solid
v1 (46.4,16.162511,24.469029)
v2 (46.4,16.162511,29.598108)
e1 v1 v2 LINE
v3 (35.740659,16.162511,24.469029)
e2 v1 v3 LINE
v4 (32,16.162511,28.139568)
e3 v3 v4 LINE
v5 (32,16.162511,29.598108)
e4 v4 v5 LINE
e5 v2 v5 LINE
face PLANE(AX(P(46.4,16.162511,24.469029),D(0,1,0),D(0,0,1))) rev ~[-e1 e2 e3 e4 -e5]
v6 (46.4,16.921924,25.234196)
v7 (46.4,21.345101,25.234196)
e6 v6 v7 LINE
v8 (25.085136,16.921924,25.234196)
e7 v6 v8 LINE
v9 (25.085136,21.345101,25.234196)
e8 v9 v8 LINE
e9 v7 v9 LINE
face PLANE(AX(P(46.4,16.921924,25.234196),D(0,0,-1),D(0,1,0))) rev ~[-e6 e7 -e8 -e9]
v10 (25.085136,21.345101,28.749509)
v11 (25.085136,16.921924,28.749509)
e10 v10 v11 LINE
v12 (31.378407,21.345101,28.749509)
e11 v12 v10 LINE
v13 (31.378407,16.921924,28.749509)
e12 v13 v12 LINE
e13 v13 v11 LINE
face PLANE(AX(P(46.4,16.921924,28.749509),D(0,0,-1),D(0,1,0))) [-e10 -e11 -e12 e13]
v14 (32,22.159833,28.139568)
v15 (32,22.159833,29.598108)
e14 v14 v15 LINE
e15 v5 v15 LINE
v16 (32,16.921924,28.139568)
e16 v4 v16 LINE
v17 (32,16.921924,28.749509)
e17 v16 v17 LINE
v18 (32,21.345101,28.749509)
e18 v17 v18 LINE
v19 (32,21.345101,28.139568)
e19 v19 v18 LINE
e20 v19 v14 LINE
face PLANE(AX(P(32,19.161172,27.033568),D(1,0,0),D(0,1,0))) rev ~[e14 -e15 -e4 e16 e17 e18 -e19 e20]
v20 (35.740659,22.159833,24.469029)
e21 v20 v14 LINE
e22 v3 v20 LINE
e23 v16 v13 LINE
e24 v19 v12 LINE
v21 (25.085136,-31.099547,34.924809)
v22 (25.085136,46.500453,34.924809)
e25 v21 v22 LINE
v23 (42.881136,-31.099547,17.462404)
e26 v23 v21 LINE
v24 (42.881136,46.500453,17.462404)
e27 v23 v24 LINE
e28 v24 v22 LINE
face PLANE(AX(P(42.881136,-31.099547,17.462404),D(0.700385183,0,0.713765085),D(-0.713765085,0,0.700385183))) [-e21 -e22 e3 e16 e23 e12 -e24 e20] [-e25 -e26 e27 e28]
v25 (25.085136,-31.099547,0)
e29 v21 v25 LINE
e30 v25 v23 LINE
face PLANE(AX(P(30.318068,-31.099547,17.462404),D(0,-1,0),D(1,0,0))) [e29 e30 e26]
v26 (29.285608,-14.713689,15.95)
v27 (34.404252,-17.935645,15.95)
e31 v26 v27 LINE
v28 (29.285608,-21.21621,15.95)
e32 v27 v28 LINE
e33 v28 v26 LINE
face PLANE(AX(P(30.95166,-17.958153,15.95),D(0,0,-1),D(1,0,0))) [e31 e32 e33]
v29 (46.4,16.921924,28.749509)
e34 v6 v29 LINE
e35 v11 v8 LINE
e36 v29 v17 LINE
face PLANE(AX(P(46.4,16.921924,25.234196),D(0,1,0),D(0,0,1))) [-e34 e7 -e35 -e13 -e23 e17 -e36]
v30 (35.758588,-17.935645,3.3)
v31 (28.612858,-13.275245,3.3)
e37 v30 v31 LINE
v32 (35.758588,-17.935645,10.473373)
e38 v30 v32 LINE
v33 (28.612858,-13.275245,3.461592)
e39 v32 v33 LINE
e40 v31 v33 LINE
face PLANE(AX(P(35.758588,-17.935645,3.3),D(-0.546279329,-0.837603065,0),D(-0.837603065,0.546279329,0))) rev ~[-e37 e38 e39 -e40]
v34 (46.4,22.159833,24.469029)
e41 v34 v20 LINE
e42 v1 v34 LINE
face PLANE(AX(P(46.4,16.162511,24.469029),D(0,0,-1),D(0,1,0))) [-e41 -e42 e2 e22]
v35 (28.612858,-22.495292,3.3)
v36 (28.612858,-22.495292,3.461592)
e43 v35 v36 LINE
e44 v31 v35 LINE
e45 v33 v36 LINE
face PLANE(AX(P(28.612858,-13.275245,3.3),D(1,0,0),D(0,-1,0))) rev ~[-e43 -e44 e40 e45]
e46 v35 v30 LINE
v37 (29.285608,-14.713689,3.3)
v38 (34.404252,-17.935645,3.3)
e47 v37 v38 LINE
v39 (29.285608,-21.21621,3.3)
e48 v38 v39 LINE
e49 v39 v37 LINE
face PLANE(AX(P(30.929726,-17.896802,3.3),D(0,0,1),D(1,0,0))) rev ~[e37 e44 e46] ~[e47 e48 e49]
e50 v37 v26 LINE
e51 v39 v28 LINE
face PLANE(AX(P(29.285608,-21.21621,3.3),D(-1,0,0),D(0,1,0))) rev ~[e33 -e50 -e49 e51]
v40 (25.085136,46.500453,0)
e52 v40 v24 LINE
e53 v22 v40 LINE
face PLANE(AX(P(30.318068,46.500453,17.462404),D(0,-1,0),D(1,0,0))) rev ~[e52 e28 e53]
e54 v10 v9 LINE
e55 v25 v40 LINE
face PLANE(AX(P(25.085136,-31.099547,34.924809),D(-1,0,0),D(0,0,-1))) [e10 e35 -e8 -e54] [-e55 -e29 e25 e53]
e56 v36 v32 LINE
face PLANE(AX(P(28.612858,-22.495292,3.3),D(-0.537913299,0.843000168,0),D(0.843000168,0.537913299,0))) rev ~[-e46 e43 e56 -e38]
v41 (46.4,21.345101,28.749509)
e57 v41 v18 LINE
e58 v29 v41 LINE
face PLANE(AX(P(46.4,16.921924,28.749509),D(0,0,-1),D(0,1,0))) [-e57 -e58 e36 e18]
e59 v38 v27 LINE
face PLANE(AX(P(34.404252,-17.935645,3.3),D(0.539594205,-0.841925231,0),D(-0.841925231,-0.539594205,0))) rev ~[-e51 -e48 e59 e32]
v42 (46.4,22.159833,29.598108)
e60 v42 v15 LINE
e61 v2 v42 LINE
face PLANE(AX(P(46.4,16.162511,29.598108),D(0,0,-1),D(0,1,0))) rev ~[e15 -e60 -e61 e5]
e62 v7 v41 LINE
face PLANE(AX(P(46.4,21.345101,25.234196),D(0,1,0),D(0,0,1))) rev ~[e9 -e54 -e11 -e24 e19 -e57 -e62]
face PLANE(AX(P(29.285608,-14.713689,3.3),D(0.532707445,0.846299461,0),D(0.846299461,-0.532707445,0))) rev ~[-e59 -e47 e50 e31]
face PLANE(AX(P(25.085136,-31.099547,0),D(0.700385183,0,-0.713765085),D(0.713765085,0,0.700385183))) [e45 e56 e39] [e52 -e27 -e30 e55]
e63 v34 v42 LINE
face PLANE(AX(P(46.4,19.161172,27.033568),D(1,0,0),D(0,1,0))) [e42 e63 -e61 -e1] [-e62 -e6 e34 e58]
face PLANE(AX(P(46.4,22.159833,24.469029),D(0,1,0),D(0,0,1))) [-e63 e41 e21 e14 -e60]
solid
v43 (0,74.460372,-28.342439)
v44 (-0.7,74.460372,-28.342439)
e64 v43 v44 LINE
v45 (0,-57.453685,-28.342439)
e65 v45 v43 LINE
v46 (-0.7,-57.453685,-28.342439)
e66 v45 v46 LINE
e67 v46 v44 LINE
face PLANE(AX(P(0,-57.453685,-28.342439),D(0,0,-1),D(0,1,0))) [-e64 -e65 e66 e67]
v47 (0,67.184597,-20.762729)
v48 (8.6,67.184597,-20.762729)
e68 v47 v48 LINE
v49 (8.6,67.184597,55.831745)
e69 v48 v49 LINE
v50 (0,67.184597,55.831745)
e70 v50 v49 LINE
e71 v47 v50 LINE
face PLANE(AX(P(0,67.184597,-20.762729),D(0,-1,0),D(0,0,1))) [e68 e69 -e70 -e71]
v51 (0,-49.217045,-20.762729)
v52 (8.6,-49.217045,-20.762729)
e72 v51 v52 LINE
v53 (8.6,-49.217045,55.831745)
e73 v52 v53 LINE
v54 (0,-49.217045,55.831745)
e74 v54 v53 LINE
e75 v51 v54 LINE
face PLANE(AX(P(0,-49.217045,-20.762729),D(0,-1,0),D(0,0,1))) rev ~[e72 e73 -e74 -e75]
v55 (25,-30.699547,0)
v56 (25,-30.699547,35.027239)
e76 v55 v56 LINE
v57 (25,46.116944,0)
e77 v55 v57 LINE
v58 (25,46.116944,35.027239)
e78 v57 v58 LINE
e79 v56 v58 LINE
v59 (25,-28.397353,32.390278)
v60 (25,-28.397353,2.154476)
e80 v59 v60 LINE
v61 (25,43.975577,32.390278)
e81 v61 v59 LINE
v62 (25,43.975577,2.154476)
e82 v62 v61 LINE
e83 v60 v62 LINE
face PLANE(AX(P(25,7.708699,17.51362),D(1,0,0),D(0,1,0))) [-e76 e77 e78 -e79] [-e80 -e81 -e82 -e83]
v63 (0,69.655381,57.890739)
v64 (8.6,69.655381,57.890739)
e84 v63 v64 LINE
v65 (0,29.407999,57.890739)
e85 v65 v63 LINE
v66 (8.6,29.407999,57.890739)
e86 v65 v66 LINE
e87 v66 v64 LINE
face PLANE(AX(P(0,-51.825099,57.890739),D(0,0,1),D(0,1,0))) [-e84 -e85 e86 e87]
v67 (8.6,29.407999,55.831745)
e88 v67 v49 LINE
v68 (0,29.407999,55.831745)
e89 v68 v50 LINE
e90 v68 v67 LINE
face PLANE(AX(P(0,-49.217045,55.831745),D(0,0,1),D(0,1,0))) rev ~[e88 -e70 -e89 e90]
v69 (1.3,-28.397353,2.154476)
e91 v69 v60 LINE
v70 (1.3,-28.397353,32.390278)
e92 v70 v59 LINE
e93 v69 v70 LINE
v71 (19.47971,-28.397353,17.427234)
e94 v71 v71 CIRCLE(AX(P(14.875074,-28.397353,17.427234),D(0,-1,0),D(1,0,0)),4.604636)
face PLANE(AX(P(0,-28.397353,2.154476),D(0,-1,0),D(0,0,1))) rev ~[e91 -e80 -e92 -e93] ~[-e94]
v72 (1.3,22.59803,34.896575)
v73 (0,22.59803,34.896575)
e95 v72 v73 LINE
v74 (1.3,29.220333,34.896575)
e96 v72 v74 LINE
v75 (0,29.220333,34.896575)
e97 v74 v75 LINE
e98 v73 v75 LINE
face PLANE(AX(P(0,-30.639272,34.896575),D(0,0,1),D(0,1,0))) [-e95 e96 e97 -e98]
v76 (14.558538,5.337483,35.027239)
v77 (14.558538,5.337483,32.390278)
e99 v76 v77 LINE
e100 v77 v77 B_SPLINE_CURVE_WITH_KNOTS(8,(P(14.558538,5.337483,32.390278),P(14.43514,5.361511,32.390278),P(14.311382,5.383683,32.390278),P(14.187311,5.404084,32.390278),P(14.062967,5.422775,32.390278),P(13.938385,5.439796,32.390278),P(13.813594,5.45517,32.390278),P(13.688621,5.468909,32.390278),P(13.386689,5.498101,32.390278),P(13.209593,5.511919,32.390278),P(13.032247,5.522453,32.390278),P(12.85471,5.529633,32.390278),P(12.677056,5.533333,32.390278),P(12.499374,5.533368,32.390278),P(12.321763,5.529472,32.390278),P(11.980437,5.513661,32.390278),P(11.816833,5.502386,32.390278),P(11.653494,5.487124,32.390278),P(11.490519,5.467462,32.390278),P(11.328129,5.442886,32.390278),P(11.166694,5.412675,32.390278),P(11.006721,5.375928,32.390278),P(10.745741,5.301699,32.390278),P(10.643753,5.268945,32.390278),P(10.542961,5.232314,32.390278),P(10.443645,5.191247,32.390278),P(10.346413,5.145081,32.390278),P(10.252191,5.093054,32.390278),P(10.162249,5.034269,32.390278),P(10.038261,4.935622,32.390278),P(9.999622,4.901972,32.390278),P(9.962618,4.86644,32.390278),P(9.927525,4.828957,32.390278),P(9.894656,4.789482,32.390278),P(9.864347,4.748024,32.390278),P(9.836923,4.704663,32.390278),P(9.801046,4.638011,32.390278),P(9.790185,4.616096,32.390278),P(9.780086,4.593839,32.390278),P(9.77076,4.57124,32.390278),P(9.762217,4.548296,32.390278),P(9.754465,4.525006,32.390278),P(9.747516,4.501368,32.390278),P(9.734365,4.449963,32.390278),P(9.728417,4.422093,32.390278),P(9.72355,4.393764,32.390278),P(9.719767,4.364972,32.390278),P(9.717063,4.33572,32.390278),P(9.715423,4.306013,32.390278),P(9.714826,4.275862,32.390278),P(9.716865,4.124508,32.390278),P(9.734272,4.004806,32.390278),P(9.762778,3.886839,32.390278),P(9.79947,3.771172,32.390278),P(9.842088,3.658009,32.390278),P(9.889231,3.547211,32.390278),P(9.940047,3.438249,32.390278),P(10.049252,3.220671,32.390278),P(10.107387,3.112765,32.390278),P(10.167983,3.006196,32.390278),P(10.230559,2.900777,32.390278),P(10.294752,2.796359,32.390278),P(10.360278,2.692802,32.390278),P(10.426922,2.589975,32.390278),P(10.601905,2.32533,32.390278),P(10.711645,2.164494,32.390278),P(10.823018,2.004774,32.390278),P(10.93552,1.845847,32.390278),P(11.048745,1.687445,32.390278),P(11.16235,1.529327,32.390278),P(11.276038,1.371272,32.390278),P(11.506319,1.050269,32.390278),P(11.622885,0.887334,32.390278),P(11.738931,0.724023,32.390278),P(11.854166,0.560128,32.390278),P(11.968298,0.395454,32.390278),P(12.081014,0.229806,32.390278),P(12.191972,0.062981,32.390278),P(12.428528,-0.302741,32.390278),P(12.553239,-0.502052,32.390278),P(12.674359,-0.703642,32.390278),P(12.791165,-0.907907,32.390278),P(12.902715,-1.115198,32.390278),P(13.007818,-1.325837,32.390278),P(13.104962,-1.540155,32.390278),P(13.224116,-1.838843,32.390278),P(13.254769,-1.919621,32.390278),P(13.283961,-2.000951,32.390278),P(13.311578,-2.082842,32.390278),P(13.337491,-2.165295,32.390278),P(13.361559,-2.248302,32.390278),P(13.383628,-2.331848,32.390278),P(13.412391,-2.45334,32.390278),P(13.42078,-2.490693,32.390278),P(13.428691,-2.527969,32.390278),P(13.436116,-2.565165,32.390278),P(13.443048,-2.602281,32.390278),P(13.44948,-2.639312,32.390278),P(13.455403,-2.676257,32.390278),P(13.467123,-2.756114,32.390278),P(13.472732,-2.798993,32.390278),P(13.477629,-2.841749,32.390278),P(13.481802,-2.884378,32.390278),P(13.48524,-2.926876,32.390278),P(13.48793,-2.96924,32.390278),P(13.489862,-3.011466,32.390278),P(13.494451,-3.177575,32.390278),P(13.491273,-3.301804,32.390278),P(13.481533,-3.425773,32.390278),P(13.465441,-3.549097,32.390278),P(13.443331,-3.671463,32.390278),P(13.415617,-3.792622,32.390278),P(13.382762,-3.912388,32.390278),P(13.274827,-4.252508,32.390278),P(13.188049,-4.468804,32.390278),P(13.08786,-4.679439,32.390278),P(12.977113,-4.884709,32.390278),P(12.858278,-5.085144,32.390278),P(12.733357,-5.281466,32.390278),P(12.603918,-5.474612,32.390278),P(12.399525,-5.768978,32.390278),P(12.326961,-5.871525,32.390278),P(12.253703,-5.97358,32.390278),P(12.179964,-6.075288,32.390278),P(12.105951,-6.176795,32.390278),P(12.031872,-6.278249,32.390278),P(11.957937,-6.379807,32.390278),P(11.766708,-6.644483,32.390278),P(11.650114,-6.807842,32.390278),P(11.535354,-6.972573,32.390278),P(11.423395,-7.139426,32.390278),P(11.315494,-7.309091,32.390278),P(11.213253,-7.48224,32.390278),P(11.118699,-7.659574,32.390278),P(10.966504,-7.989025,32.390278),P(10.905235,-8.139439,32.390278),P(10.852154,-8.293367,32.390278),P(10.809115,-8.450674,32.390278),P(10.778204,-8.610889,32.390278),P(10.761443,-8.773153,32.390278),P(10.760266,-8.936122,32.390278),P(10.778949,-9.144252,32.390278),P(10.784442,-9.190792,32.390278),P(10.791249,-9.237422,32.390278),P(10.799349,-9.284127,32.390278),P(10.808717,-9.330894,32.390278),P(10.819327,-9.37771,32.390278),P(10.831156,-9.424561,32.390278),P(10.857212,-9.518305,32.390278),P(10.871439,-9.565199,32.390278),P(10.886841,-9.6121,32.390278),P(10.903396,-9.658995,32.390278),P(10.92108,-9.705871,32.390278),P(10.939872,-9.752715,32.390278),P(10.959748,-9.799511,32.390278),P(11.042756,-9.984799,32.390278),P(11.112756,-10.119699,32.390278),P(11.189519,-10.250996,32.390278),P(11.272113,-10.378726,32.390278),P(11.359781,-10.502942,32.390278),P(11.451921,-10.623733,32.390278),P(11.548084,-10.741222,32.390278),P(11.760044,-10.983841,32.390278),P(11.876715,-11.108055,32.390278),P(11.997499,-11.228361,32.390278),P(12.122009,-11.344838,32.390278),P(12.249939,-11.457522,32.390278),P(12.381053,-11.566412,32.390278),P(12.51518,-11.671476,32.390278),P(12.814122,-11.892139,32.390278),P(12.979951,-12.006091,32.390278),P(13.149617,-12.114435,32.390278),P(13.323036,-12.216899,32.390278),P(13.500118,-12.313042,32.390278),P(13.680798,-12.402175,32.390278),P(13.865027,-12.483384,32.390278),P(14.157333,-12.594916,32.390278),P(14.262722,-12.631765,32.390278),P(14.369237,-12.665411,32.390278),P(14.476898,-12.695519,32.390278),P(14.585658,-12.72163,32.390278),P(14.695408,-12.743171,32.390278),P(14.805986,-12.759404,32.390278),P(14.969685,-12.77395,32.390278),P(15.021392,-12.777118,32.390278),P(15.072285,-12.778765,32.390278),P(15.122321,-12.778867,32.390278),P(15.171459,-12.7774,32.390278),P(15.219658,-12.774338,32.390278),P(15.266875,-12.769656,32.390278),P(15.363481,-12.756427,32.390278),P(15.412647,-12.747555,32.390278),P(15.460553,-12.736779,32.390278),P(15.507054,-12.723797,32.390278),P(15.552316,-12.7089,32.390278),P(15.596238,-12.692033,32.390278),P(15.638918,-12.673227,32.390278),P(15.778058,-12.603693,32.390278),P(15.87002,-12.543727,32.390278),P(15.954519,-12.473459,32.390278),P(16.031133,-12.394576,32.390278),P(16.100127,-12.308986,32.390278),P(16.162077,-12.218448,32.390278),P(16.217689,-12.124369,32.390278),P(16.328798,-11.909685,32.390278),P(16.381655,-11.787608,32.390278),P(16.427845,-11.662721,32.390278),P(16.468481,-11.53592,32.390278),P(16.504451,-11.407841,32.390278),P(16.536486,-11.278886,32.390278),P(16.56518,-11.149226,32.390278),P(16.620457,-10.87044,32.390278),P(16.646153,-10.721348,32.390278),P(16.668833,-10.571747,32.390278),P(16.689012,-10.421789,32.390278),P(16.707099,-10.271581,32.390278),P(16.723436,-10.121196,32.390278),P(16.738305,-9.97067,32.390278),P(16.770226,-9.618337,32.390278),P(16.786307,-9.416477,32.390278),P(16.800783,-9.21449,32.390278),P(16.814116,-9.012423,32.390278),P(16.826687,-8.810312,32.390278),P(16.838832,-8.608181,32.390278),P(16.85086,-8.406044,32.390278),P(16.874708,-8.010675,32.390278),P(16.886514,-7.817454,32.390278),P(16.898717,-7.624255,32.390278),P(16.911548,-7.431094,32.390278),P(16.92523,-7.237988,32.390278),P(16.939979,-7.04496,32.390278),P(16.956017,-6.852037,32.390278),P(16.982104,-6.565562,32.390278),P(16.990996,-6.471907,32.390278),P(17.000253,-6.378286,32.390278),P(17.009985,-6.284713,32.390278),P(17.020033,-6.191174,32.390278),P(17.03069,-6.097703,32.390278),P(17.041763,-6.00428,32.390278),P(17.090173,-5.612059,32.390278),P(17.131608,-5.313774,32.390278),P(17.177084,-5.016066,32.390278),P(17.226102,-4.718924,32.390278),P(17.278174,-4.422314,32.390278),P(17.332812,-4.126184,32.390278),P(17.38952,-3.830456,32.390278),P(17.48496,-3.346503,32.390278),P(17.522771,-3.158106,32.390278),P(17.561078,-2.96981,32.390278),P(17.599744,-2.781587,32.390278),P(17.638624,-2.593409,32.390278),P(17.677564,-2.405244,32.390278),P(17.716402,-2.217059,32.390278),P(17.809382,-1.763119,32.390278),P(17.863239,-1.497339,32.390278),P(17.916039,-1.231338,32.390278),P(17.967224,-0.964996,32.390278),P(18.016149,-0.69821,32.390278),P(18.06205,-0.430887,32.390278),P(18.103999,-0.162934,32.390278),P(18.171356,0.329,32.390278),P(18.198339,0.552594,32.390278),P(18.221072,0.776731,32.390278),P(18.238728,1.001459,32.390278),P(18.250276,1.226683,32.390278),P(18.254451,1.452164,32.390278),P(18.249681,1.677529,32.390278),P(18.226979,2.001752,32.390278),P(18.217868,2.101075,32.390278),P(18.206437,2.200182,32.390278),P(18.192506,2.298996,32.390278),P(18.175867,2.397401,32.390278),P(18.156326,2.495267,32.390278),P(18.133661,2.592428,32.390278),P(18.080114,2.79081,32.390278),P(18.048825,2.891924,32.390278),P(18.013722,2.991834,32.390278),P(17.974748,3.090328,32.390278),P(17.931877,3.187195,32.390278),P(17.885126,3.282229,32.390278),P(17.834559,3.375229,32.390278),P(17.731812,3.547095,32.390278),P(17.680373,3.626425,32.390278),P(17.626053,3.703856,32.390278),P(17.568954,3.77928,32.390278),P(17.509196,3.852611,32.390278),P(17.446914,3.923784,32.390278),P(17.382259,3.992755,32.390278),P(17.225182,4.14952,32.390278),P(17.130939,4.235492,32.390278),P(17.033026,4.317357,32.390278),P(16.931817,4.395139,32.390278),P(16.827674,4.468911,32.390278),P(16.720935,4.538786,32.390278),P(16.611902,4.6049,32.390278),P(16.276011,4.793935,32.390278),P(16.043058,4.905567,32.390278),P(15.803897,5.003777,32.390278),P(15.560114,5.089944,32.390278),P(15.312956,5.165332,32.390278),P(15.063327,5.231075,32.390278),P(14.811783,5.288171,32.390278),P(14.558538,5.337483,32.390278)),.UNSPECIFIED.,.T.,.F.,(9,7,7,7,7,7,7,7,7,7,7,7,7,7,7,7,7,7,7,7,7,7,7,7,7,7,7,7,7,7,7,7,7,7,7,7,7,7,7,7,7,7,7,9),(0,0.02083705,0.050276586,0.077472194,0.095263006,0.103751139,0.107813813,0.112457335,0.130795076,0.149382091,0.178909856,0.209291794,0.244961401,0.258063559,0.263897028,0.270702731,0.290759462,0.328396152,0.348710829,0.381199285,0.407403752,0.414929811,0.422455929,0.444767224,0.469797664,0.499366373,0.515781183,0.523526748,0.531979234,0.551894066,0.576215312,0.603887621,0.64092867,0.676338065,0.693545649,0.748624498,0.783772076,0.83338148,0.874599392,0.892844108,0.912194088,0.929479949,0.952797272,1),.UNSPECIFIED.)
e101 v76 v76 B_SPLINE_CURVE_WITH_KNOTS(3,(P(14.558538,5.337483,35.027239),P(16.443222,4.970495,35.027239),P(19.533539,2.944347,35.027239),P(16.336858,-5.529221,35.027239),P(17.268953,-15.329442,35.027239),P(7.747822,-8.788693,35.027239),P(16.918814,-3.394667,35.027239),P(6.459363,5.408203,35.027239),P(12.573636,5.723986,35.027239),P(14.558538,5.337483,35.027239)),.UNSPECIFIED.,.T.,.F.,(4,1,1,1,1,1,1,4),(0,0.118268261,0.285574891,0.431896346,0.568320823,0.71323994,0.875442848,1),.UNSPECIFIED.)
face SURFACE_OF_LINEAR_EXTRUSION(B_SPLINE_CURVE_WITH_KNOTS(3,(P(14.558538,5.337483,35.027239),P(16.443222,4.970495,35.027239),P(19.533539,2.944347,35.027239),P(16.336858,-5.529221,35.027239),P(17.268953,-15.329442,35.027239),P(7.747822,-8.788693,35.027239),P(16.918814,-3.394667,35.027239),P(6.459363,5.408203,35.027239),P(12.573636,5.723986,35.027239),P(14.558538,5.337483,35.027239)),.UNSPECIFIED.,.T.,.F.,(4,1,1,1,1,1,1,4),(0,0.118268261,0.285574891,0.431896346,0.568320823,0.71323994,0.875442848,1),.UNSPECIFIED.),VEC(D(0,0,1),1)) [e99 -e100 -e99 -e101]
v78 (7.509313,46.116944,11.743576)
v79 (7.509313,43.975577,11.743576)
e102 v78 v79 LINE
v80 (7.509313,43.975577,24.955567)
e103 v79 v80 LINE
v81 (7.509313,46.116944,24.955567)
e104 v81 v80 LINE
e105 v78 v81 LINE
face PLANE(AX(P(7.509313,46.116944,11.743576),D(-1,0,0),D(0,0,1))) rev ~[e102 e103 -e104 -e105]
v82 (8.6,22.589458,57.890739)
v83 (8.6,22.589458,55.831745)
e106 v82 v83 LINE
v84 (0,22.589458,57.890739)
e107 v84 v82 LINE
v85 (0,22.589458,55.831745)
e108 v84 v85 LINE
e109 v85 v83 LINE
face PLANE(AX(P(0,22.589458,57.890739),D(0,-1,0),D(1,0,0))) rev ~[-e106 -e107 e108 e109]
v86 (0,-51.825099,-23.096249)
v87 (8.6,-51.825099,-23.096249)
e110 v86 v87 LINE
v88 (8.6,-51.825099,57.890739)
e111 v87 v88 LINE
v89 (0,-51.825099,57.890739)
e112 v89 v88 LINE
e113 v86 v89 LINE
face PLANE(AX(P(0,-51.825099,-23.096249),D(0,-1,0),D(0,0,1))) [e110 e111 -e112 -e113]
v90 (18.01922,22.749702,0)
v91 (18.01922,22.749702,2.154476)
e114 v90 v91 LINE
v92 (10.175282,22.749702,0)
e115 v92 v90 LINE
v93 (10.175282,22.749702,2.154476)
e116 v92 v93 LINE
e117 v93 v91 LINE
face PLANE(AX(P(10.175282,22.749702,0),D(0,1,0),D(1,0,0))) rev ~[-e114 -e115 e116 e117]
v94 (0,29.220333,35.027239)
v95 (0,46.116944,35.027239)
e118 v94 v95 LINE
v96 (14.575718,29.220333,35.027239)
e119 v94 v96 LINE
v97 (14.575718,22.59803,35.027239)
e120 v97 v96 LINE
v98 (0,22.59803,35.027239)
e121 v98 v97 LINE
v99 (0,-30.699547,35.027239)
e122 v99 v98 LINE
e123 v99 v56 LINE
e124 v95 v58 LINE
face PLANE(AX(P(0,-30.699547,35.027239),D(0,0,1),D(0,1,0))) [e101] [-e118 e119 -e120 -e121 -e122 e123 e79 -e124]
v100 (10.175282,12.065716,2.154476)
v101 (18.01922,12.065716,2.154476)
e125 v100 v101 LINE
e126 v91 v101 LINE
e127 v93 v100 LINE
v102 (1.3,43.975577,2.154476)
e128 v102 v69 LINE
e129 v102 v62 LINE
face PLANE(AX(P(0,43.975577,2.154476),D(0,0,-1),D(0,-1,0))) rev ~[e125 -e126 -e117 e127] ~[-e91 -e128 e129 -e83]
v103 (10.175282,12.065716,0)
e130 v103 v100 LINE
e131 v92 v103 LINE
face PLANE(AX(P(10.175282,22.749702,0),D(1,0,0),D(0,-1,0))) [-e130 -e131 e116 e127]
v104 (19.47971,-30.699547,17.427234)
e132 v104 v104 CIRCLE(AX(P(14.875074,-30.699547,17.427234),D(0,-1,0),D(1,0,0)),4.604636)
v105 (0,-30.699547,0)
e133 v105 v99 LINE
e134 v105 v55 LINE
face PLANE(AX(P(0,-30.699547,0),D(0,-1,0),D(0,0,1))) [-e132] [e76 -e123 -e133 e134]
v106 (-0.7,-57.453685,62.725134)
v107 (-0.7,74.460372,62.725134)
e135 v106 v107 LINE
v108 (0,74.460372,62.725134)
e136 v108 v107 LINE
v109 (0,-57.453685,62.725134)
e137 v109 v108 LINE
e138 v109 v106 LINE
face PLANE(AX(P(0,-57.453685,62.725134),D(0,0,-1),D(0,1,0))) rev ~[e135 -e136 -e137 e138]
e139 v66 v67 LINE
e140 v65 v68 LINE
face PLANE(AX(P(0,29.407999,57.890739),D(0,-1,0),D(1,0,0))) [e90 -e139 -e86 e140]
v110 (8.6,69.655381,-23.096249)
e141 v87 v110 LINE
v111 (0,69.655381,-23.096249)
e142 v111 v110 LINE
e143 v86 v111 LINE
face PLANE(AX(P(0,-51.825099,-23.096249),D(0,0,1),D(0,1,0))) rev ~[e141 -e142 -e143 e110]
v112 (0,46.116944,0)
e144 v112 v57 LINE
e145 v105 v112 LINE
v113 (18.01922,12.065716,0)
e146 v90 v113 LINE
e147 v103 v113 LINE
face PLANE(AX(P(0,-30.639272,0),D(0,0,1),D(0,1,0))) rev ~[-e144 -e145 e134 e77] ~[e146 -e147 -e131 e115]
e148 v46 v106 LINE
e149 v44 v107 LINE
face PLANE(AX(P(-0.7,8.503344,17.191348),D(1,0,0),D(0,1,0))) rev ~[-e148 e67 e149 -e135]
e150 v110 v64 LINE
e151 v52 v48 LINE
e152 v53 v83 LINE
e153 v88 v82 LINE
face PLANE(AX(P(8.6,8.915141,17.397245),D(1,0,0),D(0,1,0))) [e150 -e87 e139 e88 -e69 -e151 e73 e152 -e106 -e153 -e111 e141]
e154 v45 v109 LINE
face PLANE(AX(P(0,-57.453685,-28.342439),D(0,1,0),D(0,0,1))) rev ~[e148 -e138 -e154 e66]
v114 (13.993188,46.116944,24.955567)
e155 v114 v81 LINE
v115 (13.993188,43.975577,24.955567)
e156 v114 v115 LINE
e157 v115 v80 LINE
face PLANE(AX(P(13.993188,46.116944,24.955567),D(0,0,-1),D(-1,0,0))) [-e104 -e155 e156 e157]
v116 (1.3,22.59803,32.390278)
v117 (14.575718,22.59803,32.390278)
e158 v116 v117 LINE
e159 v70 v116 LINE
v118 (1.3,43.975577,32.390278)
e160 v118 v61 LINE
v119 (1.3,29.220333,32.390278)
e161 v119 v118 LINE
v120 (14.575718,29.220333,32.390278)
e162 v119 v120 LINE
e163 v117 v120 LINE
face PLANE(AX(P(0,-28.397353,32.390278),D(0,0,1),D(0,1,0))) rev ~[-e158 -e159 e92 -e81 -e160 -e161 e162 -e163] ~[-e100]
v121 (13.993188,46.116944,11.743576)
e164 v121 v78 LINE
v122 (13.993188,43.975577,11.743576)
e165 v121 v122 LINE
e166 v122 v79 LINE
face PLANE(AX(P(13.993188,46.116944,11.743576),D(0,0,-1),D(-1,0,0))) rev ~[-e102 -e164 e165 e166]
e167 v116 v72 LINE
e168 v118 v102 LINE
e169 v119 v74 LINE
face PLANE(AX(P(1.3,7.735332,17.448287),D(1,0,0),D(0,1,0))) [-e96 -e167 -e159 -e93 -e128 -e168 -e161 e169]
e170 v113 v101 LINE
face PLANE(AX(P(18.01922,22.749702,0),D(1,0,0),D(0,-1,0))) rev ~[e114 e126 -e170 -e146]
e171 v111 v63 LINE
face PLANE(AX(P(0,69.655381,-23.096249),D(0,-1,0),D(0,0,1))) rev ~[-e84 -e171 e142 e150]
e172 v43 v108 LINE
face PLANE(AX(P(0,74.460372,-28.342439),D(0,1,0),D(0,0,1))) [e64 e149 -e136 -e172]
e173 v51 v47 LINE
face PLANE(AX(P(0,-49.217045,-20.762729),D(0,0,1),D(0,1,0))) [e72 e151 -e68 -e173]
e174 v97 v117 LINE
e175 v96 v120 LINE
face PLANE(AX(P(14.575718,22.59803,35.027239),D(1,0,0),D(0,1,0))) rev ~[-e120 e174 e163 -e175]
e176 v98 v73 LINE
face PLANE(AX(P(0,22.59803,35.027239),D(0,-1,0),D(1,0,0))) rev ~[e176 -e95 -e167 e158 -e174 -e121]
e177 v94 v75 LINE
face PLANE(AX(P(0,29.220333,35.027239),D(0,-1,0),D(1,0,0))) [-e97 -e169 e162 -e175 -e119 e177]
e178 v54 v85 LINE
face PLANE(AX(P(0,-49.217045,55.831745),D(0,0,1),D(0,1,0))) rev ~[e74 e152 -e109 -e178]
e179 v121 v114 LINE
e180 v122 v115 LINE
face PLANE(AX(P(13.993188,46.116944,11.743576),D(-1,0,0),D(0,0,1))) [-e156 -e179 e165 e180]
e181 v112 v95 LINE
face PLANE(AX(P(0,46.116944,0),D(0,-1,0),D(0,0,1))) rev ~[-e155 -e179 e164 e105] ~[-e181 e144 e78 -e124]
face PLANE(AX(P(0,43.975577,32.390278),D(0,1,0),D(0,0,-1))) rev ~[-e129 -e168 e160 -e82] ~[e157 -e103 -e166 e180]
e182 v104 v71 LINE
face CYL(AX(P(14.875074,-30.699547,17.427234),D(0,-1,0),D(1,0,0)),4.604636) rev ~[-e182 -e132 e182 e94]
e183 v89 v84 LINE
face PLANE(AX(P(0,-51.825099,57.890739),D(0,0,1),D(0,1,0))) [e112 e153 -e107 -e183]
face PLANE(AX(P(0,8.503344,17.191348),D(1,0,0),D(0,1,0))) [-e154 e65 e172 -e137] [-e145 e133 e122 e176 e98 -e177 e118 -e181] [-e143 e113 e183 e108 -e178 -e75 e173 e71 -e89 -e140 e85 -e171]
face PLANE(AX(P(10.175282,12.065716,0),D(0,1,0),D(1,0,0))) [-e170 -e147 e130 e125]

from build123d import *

# Parameters (mm, degrees)
F0_W      = 76.8164917827
F0_H      = 35.0272394717
F1_DEPTH  = 25
F4_DEPTH  = 77.6
F6_DEPTH  = 113
F7_W      = 7.8439377248
F7_H      = 10.683985427
F8_DEPTH  = 25
F9_W      = 14.5757179707
F9_H      = 6.6223032773
F10_DEPTH = 25
F11_R     = 4.6046356053
F12_DEPTH = 25
F14_DEPTH = 25
F16_W     = 5.9973224998
F16_H     = 5.1290784031
F17_DEPTH = 14.4
F18_W     = 4.4231768698
F18_H     = 3.5153124481
F19_DEPTH = 25
F20_W     = 76.7492093146
F20_H     = 34.8965749145
F21_DEPTH = 1.3
F22_W     = 131.9140568376
F22_H     = 91.0675730556
F23_DEPTH = 0.7
F24_W     = 121.4804798365
F24_H     = 80.9869877994
F24_W_2   = 116.401642561
F24_H_2   = 76.5944737941
F25_DEPTH = 8.6
F26_W     = 8.6
F26_H     = 6.8185403943
F27_DEPTH = 9.3
F30_DEPTH = 10.5
F32_DEPTH = 12.65
F33_W     = 6.4838747494
F33_H     = 13.2119907066
F34_DEPTH = 25


with BuildPart() as f1:
    # F0 (on Right) → F1 (new body)
    with BuildSketch(Plane.YZ):
        with Locations((7.7086985111, 17.5136197358)):
            Rectangle(F0_W, F0_H)
    extrude(amount=F1_DEPTH)

    # F5 (on face) → F6 (cut)
    with BuildSketch(Plane(origin=(0, 0, 0), x_dir=(0, -1, 0), z_dir=(-1, 0, 0))):
        Polygon((28.397353366, 2.1544757765), (28.397353366, 32.3902778327), (-43.9755767584, 32.3902778327), (-43.9755767584, 20.4346366227), (-43.9755767584, 12.7295535058), (-43.9755767584, 2.1544757765), align=None)
    extrude(amount=-F6_DEPTH, mode=Mode.SUBTRACT)

    # F7 (on face) → F8 (cut)
    with BuildSketch(Plane(origin=(0, 0, 0), x_dir=(1, 0, 0), z_dir=(0, 0, -1))):
        with Locations((14.097250998, -17.4077088013)):
            Rectangle(F7_W, F7_H)
    extrude(amount=-F8_DEPTH, mode=Mode.SUBTRACT)

    # F9 (on face) → F10 (cut)
    with BuildSketch(Plane.XY.offset(35.0272394717)):
        with Locations((7.2878589854, 25.9091816843)):
            Rectangle(F9_W, F9_H)
    extrude(amount=-F10_DEPTH, mode=Mode.SUBTRACT)

    # F11 (on face) → F12 (cut)
    with BuildSketch(Plane.XZ.offset(30.6995473802)):
        with Locations((14.8750739172, 17.4272339791)):
            Circle(F11_R)
    extrude(amount=-F12_DEPTH, mode=Mode.SUBTRACT)

    # F13 (on face) → F14 (cut)
    with BuildSketch(Plane.XY.offset(35.0272394717)):
        with BuildLine():
            add(Edge.make_bspline(
                [(14.5585378632, 5.3374832496), (16.4432223112, 4.970494678), (19.5335391994, 2.9443472499), (16.3368578812, -5.5292212959), (17.2689532903, -15.3294419765), (7.7478224776, -8.7886932475), (16.9188142819, -3.3946672349), (6.4593634536, 5.4082025498), (12.5736357041, 5.7239863636), (14.5585378632, 5.3374832496)],
                knots=[0, 0, 0, 0, 0.1182682615, 0.2855748906, 0.4318963462, 0.5683208229, 0.7132399397, 0.8754428478, 1, 1, 1, 1], degree=3))
        make_face()
    extrude(amount=-F14_DEPTH, mode=Mode.SUBTRACT)

    # F20 (on Right) → F21 (join)
    with BuildSketch(Plane.YZ):
        with Locations((7.7353324741, 17.4482874572)):
            Rectangle(F20_W, F20_H)
    extrude(amount=F21_DEPTH)

    # F22 (on Right) → F23 (join)
    with BuildSketch(Plane.YZ):
        with Locations((8.50334391, 17.1913476661)):
            Rectangle(F22_W, F22_H)
    extrude(amount=-F23_DEPTH)

    # F24 (on face) → F25 (join)
    with BuildSketch(Plane.YZ):
        with Locations((8.9151412249, 17.3972453922)):
            Rectangle(F24_W, F24_H)
        with Locations((8.9837759733, 17.5345083699)):
            Rectangle(F24_W_2, F24_H_2, mode=Mode.SUBTRACT)
    extrude(amount=F25_DEPTH)

    # F26 (on face) → F27 (cut)
    with BuildSketch(Plane.XY.offset(57.8907392919)):
        with Locations((4.3, 25.9987283498)):
            Rectangle(F26_W, F26_H)
    extrude(amount=-F27_DEPTH, mode=Mode.SUBTRACT)

    # F33 (on face) → F34 (cut)
    with BuildSketch(Plane(origin=(0, 46.1169444025, 0), x_dir=(-1, 0, 0), z_dir=(0, 1, 0))):
        with Locations((-10.7512504328, 18.3495716192)):
            Rectangle(F33_W, F33_H)
    extrude(amount=-F34_DEPTH, mode=Mode.SUBTRACT)


with BuildPart() as f4:
    # F3 (on offset) → F4 (new body)
    with BuildSketch(Plane.XZ.offset(31.0995473802)):
        Polygon((25.0851362944, 34.9248088896), (25.0851362944, 0), (42.8811361204, 17.4624044448), align=None)
    extrude(amount=-F4_DEPTH)

    # F16 (on offset) → F17 (join)
    with BuildSketch(Plane.YZ.offset(46.4)):
        with Locations((19.1611722112, 27.0335683599)):
            Rectangle(F16_W, F16_H)
    extrude(amount=-F17_DEPTH)

    # F18 (on face) → F19 (cut)
    with BuildSketch(Plane.YZ.offset(46.4)):
        with Locations((19.133512862, 26.9918525591)):
            Rectangle(F18_W, F18_H)
    extrude(amount=-F19_DEPTH, mode=Mode.SUBTRACT)

    # F29 (on offset) → F30 (join)
    with BuildSketch(Plane.XY.offset(3.3)):
        Polygon((28.6128576845, -22.4952923471), (35.7585884631, -17.9356448352), (28.6128576845, -13.2752452046), align=None)
    extrude(amount=F30_DEPTH)

    # F31 (on face) → F32 (cut)
    with BuildSketch(Plane(origin=(0, 0, 3.3), x_dir=(1, 0, 0), z_dir=(0, 0, -1))):
        Polygon((34.4042517245, 17.9356448352), (29.2856078595, 21.2162099779), (29.2856078595, 14.7136887535), align=None)
    extrude(amount=-F32_DEPTH, mode=Mode.SUBTRACT)


solid = Compound([f1.part, f4.part])
